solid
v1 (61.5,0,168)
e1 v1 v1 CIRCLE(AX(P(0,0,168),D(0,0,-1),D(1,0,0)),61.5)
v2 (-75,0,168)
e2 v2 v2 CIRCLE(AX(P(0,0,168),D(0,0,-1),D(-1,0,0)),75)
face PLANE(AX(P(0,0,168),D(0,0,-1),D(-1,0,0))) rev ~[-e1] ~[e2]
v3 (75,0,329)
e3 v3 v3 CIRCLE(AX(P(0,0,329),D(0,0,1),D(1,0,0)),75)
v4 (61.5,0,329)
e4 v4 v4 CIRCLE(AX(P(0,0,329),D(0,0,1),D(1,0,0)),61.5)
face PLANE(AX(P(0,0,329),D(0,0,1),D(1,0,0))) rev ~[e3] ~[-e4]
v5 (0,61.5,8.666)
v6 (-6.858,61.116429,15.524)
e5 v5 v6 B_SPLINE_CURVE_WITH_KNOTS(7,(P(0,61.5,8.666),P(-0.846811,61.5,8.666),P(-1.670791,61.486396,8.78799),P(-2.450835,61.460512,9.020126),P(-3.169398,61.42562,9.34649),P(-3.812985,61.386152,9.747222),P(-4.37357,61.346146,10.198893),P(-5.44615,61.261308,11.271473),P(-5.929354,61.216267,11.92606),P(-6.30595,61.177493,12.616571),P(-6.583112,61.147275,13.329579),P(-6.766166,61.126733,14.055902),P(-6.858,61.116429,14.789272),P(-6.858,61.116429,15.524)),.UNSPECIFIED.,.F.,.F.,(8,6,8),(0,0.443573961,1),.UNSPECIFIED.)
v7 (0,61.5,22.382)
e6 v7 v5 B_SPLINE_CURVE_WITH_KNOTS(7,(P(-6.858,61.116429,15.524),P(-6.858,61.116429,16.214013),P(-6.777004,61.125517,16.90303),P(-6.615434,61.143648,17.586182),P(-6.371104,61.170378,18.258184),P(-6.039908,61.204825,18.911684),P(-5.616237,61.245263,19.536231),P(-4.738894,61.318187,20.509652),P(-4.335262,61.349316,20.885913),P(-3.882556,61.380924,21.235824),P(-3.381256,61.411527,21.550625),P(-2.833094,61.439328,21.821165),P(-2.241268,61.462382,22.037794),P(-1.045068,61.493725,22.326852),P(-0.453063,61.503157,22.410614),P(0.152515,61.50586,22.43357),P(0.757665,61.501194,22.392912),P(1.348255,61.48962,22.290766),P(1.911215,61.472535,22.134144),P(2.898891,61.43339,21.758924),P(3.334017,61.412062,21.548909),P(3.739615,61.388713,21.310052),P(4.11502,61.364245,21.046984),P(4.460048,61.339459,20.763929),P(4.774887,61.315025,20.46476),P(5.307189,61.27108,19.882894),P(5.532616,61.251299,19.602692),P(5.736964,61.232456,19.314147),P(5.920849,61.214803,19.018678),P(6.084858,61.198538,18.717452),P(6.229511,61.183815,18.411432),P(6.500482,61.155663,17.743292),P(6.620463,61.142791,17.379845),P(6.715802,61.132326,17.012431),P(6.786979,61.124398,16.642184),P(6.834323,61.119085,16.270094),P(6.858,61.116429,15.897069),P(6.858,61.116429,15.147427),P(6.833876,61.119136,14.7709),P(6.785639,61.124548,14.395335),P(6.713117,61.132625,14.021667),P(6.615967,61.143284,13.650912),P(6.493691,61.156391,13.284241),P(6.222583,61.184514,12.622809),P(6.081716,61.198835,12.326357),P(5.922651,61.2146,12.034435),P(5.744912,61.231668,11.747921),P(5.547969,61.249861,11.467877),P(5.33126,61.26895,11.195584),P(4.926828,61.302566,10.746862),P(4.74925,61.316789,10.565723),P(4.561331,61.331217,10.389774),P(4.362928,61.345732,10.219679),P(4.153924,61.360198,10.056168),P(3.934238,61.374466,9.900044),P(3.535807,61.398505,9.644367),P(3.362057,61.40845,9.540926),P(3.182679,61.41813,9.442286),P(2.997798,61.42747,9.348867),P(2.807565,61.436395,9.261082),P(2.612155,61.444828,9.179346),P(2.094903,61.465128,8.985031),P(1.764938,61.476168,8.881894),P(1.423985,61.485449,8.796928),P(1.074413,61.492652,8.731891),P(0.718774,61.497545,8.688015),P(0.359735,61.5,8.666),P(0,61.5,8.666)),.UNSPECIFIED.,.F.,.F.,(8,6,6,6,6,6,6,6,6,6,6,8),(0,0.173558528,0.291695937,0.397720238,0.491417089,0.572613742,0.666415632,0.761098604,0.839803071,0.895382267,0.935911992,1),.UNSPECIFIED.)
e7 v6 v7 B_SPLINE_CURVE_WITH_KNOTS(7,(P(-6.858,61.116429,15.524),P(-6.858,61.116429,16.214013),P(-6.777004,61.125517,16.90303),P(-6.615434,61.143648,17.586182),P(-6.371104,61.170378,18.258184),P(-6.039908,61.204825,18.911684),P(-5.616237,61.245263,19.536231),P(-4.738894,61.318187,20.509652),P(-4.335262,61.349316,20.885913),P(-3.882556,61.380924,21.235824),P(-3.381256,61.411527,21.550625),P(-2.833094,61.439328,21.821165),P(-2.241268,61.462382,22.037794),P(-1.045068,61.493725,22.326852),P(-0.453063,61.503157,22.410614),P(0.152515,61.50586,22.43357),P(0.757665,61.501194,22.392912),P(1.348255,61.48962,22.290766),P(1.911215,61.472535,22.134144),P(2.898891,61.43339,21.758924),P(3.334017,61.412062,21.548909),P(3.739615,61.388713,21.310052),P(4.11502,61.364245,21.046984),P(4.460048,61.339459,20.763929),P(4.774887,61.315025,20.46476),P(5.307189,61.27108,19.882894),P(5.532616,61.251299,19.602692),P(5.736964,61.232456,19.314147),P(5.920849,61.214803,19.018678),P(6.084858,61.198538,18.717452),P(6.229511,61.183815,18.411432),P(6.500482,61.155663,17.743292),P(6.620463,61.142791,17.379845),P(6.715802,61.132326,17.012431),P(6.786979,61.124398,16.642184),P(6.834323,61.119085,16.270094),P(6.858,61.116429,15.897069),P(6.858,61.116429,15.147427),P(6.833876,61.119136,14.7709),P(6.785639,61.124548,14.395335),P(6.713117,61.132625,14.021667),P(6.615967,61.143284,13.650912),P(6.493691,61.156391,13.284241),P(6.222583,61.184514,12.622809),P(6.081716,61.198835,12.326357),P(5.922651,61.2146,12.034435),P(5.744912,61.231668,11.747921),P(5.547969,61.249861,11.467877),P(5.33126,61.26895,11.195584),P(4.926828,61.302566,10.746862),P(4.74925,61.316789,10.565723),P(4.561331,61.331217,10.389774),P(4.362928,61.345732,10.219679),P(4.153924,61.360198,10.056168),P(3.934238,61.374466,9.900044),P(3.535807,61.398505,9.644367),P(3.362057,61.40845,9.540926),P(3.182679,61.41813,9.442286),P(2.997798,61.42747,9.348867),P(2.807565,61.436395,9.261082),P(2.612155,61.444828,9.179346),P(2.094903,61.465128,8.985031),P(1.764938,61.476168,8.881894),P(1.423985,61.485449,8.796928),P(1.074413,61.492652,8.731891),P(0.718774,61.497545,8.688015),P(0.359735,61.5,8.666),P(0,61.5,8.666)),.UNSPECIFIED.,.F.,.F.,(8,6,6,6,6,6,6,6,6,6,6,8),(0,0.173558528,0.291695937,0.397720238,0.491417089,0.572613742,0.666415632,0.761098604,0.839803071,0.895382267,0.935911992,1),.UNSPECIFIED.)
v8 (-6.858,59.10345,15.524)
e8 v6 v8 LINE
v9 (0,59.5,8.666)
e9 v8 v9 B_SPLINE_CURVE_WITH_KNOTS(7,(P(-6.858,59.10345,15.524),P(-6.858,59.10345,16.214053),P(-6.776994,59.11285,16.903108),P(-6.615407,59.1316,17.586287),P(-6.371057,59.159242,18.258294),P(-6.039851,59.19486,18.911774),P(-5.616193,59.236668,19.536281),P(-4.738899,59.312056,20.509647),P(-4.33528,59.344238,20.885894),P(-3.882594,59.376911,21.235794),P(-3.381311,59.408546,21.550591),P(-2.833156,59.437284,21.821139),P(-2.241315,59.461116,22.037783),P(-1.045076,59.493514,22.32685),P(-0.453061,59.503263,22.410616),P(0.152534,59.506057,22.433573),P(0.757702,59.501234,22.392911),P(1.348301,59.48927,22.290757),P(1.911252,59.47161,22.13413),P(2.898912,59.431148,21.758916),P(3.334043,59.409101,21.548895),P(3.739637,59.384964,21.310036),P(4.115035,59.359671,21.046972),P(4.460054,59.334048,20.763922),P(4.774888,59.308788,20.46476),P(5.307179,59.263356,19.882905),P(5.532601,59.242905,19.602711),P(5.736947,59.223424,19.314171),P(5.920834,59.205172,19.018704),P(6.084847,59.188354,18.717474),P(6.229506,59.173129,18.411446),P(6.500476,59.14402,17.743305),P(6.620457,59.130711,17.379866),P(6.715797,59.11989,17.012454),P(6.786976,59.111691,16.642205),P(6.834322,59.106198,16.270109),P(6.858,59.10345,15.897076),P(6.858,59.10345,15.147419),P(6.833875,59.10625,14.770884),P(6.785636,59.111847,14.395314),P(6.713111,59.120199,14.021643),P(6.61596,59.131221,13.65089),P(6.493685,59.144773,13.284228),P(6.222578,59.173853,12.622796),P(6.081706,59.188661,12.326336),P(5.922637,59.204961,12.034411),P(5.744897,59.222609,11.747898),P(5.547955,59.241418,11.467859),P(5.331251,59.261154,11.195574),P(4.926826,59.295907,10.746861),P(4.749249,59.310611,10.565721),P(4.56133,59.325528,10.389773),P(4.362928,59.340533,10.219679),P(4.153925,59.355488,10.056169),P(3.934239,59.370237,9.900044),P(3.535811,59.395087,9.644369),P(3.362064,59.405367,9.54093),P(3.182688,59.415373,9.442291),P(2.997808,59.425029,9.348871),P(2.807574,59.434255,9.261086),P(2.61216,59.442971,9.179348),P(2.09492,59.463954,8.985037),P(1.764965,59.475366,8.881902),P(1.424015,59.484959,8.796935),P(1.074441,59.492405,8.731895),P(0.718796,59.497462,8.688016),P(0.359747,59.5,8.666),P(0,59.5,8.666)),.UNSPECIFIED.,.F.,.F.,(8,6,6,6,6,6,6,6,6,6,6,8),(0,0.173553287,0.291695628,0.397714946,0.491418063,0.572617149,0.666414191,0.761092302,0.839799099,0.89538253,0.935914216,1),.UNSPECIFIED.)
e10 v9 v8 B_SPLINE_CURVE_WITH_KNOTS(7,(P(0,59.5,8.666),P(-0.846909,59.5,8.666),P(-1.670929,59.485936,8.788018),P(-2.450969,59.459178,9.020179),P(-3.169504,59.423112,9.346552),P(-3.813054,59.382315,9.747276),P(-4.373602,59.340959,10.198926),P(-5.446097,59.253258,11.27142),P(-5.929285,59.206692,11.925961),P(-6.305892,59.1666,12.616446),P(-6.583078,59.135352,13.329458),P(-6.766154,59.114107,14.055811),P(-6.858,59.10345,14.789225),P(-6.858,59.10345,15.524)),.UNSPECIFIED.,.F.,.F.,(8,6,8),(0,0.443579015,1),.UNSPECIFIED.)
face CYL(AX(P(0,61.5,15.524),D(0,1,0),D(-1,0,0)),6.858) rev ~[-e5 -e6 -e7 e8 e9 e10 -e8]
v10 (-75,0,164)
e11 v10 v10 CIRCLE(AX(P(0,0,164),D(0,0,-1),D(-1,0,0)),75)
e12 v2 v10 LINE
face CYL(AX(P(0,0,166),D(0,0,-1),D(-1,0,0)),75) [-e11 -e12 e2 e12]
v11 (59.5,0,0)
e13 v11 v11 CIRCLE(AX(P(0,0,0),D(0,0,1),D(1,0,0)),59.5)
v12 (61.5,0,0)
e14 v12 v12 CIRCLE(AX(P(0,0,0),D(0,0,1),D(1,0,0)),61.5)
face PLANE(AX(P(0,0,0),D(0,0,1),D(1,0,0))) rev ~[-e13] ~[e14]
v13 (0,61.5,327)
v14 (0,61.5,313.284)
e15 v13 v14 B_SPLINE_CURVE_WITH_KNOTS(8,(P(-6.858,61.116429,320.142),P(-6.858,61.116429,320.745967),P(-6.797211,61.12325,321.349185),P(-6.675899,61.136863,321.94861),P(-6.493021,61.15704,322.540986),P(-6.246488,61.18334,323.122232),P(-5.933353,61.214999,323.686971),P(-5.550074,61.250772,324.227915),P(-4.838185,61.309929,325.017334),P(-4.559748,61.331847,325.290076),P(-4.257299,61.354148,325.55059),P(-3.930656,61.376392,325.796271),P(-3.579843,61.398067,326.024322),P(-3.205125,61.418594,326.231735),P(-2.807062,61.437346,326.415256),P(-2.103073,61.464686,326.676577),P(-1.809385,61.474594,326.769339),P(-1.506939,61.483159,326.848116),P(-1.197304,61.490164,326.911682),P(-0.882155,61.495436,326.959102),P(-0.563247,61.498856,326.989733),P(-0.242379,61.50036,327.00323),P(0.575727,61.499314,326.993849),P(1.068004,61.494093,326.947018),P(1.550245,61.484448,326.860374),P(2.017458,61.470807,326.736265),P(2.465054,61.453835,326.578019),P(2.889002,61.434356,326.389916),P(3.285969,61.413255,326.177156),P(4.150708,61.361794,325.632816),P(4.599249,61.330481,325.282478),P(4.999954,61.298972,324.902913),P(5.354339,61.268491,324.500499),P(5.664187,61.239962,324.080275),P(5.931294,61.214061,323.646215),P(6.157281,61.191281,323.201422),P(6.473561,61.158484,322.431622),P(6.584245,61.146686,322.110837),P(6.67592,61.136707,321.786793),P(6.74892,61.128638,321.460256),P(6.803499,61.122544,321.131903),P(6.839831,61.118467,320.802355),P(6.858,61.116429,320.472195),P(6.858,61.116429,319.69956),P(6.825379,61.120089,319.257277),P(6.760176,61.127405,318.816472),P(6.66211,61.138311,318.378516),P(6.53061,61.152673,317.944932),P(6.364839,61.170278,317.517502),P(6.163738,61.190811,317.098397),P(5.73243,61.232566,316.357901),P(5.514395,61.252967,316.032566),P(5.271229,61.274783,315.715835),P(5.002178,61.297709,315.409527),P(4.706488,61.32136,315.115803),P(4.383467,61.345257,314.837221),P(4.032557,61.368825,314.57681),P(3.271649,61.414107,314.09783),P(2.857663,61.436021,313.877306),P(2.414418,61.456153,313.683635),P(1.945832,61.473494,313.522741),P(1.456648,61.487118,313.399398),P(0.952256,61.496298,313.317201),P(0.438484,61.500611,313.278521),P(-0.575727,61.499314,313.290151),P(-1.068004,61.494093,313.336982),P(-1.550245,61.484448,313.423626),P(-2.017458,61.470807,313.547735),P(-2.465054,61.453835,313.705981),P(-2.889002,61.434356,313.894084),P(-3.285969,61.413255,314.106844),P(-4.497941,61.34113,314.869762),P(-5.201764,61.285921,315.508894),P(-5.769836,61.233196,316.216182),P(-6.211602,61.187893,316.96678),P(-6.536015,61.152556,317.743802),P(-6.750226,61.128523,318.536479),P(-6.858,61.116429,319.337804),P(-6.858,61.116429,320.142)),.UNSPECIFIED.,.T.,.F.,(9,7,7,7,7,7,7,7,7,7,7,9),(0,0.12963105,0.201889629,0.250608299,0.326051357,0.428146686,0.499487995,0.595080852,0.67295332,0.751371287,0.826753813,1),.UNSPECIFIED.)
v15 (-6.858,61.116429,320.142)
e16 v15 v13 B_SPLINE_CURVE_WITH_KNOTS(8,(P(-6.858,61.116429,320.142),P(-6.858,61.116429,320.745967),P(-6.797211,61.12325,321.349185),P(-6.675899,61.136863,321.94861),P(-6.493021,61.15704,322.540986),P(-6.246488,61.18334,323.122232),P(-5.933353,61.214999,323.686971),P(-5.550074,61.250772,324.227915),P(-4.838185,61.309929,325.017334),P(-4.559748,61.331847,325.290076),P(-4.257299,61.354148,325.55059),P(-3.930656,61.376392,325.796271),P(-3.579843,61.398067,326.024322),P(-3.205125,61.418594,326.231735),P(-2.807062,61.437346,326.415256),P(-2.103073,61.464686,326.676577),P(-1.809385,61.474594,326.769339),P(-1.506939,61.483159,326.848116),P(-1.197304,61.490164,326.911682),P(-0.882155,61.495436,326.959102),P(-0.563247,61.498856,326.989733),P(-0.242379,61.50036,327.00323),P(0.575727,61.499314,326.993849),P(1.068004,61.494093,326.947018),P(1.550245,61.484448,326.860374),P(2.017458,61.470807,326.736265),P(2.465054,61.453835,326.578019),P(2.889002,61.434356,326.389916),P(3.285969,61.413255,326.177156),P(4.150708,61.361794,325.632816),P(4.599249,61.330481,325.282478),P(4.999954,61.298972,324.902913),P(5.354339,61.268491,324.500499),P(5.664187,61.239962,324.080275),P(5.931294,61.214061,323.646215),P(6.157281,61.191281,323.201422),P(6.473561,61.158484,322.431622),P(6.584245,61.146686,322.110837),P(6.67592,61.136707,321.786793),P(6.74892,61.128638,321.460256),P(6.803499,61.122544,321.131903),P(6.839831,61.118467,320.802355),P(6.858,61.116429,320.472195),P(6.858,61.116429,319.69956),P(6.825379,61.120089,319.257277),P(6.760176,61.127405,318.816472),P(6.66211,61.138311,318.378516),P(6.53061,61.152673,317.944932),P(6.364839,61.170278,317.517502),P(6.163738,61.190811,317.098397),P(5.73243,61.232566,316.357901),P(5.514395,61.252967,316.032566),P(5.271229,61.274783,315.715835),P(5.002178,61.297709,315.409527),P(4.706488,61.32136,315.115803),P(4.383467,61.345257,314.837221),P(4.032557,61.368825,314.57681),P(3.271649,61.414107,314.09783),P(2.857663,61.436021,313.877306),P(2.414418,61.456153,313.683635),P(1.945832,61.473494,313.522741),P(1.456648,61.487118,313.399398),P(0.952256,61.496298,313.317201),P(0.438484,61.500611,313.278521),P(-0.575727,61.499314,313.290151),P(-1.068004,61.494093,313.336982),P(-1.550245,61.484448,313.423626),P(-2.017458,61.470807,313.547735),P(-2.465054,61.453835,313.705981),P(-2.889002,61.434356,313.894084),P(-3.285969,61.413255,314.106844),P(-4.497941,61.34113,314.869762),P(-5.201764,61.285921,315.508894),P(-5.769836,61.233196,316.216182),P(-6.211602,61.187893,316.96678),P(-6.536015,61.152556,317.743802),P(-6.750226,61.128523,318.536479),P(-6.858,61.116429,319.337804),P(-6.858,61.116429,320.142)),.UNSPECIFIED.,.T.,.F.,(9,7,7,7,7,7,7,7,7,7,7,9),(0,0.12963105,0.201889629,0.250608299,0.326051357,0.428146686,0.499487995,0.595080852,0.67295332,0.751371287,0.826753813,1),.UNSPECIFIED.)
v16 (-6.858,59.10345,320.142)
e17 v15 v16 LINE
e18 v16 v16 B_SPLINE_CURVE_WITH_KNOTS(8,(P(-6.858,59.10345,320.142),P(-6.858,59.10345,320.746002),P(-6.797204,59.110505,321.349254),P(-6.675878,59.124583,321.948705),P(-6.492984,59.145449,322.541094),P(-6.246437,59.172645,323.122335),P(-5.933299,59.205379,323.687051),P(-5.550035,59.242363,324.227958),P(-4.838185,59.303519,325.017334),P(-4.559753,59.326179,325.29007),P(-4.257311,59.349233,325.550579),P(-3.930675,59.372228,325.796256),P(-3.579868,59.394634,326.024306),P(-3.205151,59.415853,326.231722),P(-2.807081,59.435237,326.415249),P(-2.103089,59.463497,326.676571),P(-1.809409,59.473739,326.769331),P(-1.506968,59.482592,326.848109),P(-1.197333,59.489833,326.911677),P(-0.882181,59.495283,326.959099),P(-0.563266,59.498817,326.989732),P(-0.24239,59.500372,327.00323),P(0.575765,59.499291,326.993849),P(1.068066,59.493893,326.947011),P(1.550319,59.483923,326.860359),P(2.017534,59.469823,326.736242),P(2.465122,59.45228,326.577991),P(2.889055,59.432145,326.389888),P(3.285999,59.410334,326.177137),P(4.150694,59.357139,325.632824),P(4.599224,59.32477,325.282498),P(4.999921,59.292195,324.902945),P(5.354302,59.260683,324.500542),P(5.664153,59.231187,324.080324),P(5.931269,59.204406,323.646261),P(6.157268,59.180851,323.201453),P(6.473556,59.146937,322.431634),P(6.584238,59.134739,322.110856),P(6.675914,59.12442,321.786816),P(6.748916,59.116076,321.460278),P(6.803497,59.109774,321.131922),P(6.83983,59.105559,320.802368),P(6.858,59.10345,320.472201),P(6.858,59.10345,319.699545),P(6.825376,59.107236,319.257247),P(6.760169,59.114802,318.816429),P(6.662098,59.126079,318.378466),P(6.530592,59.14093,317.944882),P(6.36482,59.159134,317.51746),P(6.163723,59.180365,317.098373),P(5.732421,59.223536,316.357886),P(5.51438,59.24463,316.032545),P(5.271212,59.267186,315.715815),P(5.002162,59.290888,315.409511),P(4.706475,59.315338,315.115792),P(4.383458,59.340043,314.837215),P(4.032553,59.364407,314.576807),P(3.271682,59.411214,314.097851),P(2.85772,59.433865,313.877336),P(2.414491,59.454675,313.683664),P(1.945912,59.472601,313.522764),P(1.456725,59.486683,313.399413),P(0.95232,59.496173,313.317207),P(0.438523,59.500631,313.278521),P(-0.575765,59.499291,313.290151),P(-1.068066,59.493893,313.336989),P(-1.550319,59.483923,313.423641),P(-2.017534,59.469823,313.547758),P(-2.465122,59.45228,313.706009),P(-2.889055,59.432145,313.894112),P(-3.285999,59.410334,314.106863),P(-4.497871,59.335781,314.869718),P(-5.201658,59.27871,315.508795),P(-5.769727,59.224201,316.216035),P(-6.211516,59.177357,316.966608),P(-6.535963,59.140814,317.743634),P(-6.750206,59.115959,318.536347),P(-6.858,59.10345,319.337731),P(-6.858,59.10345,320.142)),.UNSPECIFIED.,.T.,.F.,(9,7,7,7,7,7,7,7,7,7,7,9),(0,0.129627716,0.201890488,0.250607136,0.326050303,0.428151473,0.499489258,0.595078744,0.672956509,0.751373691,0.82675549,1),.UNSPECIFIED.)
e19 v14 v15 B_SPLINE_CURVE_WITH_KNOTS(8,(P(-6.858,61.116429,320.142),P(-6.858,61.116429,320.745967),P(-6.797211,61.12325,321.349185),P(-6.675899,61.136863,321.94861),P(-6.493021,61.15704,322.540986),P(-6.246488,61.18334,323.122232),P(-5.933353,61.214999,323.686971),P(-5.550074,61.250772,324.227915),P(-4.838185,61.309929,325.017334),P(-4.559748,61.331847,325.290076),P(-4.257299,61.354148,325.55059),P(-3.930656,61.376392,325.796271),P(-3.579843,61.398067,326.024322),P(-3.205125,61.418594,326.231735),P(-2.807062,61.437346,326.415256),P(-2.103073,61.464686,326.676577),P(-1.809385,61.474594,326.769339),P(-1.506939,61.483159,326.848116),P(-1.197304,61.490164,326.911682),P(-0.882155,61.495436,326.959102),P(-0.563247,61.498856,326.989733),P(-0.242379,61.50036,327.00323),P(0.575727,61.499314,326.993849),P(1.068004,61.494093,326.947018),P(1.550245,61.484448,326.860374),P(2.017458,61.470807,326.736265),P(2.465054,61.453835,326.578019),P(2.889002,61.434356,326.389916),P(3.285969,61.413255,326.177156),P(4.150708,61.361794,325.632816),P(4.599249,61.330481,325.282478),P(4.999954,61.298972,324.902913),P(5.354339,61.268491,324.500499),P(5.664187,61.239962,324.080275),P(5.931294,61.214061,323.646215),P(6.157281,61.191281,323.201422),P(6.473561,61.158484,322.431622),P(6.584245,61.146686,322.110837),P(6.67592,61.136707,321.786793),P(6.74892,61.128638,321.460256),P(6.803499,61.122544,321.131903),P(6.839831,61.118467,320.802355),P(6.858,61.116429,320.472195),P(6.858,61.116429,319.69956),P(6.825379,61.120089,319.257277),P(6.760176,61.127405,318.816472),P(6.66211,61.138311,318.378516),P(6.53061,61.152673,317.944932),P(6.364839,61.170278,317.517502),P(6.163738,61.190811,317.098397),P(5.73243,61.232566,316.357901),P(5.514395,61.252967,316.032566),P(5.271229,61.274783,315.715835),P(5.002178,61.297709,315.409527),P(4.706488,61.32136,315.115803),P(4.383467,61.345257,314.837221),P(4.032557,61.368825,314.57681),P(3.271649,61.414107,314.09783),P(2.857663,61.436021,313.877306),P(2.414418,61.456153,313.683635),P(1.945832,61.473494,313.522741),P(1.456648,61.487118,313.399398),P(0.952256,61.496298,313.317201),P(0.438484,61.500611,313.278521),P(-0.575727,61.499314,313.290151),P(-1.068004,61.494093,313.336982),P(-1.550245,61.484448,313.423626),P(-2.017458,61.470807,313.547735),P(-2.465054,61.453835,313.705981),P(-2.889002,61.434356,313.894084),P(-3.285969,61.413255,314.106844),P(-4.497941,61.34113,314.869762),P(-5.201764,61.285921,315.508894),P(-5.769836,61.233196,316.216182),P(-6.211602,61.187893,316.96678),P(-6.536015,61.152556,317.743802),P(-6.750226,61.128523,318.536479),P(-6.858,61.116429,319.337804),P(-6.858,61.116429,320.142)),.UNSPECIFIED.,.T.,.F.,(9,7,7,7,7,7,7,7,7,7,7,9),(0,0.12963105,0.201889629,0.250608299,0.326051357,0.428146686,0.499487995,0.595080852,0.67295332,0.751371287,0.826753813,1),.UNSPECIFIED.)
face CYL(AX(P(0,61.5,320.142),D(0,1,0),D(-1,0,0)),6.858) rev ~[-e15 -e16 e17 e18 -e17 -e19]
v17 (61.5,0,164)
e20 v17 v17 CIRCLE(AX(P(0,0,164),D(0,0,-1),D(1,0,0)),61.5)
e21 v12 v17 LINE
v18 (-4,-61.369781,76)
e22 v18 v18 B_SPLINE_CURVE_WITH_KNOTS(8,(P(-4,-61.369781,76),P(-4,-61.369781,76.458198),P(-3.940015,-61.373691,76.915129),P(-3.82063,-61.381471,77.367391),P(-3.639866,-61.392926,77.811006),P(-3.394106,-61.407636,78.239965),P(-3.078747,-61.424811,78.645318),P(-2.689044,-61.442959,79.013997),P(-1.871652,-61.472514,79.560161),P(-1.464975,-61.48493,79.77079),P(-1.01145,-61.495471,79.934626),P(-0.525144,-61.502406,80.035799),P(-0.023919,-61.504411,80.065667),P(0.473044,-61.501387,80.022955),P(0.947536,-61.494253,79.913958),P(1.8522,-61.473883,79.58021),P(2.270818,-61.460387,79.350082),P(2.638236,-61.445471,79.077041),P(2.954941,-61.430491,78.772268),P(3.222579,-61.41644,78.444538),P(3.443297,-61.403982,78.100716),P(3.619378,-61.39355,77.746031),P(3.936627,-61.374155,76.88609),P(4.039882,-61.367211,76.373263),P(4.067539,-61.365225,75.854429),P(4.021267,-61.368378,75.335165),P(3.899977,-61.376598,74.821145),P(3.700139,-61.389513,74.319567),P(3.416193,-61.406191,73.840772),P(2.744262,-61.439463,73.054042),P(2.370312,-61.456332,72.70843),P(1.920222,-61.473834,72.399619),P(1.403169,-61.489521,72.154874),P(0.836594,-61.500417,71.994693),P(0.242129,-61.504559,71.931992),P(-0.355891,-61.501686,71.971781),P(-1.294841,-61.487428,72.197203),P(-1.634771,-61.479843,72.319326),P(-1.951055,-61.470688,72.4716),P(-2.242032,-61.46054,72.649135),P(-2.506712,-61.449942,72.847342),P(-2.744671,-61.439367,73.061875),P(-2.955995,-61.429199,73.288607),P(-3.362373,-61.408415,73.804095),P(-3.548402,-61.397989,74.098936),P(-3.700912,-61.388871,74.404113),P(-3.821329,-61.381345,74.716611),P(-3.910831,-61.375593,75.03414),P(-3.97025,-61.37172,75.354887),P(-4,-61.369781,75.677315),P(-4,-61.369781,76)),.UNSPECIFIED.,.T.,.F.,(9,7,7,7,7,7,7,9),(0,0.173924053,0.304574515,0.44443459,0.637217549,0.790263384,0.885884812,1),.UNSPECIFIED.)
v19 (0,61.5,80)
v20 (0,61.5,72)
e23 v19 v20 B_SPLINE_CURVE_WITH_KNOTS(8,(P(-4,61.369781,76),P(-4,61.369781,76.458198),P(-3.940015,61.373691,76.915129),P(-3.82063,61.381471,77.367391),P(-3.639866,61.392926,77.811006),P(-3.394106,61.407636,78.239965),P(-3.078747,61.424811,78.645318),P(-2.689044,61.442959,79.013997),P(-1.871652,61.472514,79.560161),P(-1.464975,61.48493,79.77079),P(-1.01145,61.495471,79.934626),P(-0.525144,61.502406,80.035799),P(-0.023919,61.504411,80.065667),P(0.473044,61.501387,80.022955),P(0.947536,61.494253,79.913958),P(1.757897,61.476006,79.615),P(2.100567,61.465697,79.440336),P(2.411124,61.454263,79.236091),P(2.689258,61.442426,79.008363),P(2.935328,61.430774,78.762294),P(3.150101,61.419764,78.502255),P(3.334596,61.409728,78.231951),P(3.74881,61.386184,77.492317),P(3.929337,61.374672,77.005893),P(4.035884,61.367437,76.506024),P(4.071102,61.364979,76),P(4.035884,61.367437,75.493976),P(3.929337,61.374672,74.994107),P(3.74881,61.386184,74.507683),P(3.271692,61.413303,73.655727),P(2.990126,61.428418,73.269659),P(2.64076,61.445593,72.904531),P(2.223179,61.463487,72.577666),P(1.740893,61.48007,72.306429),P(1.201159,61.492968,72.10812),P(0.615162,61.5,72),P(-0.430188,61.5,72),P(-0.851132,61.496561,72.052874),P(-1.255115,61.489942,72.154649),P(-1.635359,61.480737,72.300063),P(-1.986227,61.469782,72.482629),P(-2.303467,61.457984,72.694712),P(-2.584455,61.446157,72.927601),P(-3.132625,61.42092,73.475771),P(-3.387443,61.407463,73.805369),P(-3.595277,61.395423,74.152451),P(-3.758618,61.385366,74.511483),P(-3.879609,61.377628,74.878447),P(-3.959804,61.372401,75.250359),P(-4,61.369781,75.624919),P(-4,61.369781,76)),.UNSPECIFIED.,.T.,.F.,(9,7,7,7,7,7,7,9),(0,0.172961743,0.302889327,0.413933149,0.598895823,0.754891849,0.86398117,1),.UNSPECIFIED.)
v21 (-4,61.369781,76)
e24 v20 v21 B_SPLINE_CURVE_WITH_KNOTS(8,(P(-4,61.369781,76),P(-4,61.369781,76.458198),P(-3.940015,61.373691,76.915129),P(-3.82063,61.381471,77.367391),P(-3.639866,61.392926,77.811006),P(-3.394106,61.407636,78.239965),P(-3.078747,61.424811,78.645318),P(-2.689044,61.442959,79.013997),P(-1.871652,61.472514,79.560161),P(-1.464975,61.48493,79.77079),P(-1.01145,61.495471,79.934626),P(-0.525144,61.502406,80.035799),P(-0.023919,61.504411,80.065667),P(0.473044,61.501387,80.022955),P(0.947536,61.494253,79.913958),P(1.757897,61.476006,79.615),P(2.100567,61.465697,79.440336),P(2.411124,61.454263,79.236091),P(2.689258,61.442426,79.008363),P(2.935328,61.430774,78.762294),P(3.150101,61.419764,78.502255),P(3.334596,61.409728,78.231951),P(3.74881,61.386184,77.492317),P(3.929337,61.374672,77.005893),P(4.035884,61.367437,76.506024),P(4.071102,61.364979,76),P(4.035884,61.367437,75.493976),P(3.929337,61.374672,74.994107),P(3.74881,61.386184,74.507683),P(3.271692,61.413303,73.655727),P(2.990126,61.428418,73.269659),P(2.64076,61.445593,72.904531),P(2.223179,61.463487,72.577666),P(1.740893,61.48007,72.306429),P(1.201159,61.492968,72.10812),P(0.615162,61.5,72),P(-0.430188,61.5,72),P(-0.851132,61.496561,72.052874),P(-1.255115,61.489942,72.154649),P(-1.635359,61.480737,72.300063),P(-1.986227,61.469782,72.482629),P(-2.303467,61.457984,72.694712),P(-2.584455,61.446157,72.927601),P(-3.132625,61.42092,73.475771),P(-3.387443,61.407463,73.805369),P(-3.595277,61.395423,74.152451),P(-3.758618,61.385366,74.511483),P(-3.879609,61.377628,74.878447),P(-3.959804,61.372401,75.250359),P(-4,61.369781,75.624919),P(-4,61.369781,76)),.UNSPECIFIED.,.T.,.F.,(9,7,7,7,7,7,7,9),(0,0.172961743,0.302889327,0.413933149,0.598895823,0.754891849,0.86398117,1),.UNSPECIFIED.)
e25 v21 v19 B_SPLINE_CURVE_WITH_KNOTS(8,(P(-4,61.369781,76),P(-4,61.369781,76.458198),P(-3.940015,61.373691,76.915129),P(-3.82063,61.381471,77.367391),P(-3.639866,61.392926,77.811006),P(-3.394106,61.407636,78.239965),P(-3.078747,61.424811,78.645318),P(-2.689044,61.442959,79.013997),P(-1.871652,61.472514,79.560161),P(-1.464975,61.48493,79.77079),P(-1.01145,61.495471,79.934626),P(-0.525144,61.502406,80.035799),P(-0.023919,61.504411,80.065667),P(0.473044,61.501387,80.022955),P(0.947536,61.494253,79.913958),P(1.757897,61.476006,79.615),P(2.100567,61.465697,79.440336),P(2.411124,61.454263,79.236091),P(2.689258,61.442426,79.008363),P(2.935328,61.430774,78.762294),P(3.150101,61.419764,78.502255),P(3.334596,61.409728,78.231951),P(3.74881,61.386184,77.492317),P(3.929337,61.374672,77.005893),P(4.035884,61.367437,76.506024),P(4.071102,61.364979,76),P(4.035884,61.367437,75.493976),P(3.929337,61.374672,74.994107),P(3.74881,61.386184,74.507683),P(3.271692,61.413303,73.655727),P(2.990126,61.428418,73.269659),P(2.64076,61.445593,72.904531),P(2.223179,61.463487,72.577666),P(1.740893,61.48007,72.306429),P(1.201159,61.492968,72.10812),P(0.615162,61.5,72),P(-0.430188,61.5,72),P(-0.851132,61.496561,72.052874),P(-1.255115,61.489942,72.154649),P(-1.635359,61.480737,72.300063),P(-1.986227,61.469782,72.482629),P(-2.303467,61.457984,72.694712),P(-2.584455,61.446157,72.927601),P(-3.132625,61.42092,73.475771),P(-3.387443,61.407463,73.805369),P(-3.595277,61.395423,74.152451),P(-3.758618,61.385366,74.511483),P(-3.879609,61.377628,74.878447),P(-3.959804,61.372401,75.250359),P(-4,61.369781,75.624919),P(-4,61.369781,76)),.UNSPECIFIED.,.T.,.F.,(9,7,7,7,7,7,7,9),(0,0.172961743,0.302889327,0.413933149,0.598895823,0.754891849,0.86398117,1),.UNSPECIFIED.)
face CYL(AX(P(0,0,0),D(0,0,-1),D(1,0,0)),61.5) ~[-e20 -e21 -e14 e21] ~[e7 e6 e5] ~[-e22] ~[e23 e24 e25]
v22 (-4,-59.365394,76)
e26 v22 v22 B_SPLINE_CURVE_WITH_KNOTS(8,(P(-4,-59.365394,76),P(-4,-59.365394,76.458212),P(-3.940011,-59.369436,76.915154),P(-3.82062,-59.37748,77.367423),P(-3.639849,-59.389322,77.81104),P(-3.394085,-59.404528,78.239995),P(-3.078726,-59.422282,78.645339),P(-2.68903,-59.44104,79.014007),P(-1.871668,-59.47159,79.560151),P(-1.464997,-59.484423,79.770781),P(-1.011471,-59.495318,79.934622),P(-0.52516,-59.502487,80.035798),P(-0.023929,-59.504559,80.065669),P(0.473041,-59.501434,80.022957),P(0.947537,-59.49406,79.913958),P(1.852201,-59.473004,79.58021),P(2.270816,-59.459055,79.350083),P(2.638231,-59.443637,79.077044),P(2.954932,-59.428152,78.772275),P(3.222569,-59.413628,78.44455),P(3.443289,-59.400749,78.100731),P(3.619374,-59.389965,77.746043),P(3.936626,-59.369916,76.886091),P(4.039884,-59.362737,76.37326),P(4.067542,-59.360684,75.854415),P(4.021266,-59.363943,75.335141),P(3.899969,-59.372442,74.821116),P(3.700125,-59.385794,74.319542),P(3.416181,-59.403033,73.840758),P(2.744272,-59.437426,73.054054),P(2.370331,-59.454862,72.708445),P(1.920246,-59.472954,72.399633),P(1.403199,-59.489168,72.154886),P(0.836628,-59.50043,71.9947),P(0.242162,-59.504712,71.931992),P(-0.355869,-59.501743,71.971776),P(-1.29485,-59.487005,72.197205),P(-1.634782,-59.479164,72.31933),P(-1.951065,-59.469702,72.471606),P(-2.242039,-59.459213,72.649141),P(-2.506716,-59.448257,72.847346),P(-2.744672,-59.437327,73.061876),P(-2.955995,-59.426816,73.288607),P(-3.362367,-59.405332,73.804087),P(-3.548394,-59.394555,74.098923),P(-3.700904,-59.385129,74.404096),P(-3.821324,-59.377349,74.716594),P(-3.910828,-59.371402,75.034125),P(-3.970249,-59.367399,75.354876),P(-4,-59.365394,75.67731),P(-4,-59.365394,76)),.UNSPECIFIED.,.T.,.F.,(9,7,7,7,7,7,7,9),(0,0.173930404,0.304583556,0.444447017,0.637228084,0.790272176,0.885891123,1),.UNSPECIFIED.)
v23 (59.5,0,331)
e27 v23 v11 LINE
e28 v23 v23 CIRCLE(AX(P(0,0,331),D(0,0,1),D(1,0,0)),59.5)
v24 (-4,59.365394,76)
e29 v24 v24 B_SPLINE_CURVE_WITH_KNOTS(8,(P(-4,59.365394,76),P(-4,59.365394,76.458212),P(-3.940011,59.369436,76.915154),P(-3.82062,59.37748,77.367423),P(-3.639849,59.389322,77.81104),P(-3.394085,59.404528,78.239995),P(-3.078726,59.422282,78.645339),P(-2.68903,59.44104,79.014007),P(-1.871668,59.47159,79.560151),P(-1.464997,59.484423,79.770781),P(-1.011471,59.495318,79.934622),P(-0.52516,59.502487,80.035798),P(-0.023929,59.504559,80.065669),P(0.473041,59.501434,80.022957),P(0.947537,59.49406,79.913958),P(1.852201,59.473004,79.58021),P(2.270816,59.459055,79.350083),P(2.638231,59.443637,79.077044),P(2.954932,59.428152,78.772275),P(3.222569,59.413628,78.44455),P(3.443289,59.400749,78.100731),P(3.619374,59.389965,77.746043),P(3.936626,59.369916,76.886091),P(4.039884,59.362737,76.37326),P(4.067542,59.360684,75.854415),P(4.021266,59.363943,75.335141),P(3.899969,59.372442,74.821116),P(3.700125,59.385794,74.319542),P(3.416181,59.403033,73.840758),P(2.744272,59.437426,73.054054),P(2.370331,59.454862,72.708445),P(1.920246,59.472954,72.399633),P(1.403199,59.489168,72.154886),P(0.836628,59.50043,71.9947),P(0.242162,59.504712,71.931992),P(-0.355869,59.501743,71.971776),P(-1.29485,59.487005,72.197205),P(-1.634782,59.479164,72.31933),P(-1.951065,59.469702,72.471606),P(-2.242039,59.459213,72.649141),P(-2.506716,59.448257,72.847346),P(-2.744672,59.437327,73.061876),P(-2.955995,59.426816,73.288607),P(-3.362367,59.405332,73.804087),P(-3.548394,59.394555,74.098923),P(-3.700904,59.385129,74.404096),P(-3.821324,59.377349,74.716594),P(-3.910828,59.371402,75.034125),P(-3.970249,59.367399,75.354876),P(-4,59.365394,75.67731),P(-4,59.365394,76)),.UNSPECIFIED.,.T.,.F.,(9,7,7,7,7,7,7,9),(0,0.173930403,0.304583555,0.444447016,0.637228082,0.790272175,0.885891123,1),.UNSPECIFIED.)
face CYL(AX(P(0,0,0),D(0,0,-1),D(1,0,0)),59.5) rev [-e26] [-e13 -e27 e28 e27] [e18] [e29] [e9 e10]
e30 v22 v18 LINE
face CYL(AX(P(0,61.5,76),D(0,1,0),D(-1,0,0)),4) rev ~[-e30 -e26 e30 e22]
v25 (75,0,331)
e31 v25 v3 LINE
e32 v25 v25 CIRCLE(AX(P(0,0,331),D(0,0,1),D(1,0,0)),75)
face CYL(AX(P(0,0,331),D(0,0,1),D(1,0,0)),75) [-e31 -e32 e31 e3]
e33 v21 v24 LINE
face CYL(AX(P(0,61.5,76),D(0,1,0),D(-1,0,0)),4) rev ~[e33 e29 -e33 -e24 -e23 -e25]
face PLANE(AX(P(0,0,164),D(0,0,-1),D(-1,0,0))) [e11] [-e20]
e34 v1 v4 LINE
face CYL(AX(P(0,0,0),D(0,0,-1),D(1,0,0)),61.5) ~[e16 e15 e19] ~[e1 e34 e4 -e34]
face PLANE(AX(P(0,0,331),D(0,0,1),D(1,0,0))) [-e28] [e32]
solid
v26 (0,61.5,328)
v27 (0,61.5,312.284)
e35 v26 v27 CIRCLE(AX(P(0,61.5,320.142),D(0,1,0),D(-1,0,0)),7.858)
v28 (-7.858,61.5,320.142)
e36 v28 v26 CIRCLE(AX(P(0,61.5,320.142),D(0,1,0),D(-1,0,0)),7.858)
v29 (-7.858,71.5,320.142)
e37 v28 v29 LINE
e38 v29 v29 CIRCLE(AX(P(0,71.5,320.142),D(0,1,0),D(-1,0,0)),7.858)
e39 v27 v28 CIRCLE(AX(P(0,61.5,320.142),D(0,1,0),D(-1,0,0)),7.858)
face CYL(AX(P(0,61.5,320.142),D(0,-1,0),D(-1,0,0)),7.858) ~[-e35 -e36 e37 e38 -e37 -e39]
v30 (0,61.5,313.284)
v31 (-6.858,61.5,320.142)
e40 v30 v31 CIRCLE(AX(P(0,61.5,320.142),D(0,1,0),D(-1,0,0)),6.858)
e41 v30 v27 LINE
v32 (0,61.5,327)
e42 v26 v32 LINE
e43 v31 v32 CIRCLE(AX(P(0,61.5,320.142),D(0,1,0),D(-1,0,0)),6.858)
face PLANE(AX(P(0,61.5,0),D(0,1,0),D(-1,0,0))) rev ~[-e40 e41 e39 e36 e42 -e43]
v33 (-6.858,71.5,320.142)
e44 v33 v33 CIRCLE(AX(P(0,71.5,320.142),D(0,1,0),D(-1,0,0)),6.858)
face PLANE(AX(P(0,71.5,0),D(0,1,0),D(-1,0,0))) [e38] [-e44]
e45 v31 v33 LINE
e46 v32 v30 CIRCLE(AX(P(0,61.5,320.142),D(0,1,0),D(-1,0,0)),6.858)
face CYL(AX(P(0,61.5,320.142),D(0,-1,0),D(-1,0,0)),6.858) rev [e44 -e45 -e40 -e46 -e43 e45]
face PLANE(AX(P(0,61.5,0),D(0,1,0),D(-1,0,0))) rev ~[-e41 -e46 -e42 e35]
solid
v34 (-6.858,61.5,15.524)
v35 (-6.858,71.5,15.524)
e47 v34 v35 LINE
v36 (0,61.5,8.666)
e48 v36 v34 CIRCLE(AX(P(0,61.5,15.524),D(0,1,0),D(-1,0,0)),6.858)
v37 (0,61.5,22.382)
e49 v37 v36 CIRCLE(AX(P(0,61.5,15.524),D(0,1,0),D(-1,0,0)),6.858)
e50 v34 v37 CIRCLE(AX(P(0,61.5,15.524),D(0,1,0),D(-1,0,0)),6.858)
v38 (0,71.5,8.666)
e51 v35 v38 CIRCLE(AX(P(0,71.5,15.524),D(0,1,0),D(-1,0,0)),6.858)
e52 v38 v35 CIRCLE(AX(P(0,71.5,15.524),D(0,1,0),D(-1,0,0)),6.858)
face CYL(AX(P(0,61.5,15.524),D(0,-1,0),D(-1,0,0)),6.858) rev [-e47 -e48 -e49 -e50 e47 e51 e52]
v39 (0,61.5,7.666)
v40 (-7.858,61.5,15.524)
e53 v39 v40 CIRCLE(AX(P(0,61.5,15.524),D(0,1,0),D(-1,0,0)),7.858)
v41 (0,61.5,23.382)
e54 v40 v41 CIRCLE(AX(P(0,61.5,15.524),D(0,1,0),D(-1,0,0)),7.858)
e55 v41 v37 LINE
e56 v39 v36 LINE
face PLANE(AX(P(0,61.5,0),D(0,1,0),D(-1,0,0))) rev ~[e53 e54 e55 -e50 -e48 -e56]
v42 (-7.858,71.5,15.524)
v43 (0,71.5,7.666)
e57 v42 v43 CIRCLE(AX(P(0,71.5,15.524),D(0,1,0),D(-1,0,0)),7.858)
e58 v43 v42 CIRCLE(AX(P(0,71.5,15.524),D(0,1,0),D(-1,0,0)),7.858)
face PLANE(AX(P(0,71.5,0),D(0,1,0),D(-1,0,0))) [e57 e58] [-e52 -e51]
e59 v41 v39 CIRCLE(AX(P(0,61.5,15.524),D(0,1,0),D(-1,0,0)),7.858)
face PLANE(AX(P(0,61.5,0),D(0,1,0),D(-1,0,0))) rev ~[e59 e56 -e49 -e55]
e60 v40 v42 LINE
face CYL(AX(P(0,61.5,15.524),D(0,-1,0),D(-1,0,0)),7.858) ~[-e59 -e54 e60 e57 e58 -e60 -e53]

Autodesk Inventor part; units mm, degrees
ref_plane "YZ Plane" through (0, 0, 0) normal (1, 0, 0) x (0, 1, 0)
ref_plane "XY Plane" through (0, 0, 0) normal (0, 0, 1) x (1, 0, 0)
sketch "Sketch1" plane through (0, 0, 0) normal (0, 0, 1) x (1, 0, 0)
  circle A0 centre (0, 0) radius 59.5
  circle A1 centre (0, 0) radius 61.5
  dimension "d0" = 119
  dimension "d1" = 123
extrude "Extrusion1" add sketch "Sketch1" along normal blind 331
ref_plane "Work Plane1" through (0, 61.5, 0) normal (0, 1, 0) x (-1, 0, 0)
sketch "Sketch2" plane through (0, 61.5, 0) normal (0, 1, 0) x (-1, 0, 0)
  line L0 (61.5, 0) -> (-61.5, 0) projected
  line L1 (0, 0) -> (0, 4)
  line L2 (0, 4) -> (0, 8.666)
  circle A0 centre (0, 15.524) radius 6.858
  circle A1 centre (0, 15.524) radius 7.858
  dimension "d6" = 4
  dimension "d7" = 4.666
  dimension "d8" = 13.716
  dimension "d9" = 6.858
  dimension "d33" = 15.716
extrude "Extrusion2" cut sketch "Sketch2" against normal blind 23 contours A0
sketch "Sketch3" plane through (0, 61.5, 0) normal (0, 1, 0) x (-1, 0, 0)
  line L0 (0, 0) -> (0, 331) construction
  line L1 (-59.5, 331) -> (59.5, 331) projected
  line L2 (0, 331) -> (0, 323) construction
  circle A0 centre (0, 320.142) radius 6.858
  circle A1 centre (0, 320.142) radius 7.858
  point P0 (0, 327)
  dimension "d12" = 8
  dimension "d13" = 13.716
  dimension "d14" = 6.858
  dimension "d36" = 15.716
extrude "Extrusion3" cut sketch "Sketch3" against normal blind 3 contours A0
thread "Thread1" size "M14x1.25" class "6H" standard "ANSI Metric M Profile" full length
thread "Thread2" size "M14x1.25" class "6H" standard "ANSI Metric M Profile" full length
sketch "Sketch4" plane through (0, 61.5, 0) normal (0, 1, 0) x (-1, 0, 0)
  point P0 (0, 0)
sketch "Sketch5" plane through (0, 61.5, 0) normal (0, 1, 0) x (-1, 0, 0)
  line L0 (0, 0) -> (0, 76) construction
  circle A0 centre (0, 76) radius 4
  dimension "d21" = 76
  dimension "d22" = 8
extrude "Extrusion4" cut sketch "Sketch5" against normal through all
thread "Thread3" size "M8x1.25" class "6H" standard "ANSI Metric M Profile" full length
thread "Thread4" size "M8x1.25" class "6H" standard "ANSI Metric M Profile" full length
sketch "Sketch6" plane through (0, 0, 331) normal (0, 0, 1) x (1, 0, 0)
  circle A0 centre (0, 0) radius 75
  circle A1 centre (0, 0) radius 61.5
  dimension "d29" = 150
  dimension "d30" = 123
extrude "Extrusion5" add sketch "Sketch6" against normal blind 2
extrude "Extrusion6" add sketch "Sketch2" along normal blind 10
extrude "Extrusion7" add sketch "Sketch3" along normal blind 10
ref_plane "Work Plane2" through (0, 0, 166) normal (0, 0, -1) x (-1, 0, 0)
split_face "Split2"
sketch "Sketch7" plane through (0, 0, 166) normal (0, 0, -1) x (-1, 0, 0)
  circle A0 centre (0, 0) radius 75
  circle A1 centre (0, 0) radius 59.5 projected
  circle A2 centre (0, 0) radius 59.5
  dimension "d40" = 150
extrude "Extrusion8" add sketch "Sketch7" along normal blind 2
extrude "Extrusion9" add sketch "Sketch7" against normal blind 2
properties part number "stainless steel outer wall" material "Aluminum 6061"
